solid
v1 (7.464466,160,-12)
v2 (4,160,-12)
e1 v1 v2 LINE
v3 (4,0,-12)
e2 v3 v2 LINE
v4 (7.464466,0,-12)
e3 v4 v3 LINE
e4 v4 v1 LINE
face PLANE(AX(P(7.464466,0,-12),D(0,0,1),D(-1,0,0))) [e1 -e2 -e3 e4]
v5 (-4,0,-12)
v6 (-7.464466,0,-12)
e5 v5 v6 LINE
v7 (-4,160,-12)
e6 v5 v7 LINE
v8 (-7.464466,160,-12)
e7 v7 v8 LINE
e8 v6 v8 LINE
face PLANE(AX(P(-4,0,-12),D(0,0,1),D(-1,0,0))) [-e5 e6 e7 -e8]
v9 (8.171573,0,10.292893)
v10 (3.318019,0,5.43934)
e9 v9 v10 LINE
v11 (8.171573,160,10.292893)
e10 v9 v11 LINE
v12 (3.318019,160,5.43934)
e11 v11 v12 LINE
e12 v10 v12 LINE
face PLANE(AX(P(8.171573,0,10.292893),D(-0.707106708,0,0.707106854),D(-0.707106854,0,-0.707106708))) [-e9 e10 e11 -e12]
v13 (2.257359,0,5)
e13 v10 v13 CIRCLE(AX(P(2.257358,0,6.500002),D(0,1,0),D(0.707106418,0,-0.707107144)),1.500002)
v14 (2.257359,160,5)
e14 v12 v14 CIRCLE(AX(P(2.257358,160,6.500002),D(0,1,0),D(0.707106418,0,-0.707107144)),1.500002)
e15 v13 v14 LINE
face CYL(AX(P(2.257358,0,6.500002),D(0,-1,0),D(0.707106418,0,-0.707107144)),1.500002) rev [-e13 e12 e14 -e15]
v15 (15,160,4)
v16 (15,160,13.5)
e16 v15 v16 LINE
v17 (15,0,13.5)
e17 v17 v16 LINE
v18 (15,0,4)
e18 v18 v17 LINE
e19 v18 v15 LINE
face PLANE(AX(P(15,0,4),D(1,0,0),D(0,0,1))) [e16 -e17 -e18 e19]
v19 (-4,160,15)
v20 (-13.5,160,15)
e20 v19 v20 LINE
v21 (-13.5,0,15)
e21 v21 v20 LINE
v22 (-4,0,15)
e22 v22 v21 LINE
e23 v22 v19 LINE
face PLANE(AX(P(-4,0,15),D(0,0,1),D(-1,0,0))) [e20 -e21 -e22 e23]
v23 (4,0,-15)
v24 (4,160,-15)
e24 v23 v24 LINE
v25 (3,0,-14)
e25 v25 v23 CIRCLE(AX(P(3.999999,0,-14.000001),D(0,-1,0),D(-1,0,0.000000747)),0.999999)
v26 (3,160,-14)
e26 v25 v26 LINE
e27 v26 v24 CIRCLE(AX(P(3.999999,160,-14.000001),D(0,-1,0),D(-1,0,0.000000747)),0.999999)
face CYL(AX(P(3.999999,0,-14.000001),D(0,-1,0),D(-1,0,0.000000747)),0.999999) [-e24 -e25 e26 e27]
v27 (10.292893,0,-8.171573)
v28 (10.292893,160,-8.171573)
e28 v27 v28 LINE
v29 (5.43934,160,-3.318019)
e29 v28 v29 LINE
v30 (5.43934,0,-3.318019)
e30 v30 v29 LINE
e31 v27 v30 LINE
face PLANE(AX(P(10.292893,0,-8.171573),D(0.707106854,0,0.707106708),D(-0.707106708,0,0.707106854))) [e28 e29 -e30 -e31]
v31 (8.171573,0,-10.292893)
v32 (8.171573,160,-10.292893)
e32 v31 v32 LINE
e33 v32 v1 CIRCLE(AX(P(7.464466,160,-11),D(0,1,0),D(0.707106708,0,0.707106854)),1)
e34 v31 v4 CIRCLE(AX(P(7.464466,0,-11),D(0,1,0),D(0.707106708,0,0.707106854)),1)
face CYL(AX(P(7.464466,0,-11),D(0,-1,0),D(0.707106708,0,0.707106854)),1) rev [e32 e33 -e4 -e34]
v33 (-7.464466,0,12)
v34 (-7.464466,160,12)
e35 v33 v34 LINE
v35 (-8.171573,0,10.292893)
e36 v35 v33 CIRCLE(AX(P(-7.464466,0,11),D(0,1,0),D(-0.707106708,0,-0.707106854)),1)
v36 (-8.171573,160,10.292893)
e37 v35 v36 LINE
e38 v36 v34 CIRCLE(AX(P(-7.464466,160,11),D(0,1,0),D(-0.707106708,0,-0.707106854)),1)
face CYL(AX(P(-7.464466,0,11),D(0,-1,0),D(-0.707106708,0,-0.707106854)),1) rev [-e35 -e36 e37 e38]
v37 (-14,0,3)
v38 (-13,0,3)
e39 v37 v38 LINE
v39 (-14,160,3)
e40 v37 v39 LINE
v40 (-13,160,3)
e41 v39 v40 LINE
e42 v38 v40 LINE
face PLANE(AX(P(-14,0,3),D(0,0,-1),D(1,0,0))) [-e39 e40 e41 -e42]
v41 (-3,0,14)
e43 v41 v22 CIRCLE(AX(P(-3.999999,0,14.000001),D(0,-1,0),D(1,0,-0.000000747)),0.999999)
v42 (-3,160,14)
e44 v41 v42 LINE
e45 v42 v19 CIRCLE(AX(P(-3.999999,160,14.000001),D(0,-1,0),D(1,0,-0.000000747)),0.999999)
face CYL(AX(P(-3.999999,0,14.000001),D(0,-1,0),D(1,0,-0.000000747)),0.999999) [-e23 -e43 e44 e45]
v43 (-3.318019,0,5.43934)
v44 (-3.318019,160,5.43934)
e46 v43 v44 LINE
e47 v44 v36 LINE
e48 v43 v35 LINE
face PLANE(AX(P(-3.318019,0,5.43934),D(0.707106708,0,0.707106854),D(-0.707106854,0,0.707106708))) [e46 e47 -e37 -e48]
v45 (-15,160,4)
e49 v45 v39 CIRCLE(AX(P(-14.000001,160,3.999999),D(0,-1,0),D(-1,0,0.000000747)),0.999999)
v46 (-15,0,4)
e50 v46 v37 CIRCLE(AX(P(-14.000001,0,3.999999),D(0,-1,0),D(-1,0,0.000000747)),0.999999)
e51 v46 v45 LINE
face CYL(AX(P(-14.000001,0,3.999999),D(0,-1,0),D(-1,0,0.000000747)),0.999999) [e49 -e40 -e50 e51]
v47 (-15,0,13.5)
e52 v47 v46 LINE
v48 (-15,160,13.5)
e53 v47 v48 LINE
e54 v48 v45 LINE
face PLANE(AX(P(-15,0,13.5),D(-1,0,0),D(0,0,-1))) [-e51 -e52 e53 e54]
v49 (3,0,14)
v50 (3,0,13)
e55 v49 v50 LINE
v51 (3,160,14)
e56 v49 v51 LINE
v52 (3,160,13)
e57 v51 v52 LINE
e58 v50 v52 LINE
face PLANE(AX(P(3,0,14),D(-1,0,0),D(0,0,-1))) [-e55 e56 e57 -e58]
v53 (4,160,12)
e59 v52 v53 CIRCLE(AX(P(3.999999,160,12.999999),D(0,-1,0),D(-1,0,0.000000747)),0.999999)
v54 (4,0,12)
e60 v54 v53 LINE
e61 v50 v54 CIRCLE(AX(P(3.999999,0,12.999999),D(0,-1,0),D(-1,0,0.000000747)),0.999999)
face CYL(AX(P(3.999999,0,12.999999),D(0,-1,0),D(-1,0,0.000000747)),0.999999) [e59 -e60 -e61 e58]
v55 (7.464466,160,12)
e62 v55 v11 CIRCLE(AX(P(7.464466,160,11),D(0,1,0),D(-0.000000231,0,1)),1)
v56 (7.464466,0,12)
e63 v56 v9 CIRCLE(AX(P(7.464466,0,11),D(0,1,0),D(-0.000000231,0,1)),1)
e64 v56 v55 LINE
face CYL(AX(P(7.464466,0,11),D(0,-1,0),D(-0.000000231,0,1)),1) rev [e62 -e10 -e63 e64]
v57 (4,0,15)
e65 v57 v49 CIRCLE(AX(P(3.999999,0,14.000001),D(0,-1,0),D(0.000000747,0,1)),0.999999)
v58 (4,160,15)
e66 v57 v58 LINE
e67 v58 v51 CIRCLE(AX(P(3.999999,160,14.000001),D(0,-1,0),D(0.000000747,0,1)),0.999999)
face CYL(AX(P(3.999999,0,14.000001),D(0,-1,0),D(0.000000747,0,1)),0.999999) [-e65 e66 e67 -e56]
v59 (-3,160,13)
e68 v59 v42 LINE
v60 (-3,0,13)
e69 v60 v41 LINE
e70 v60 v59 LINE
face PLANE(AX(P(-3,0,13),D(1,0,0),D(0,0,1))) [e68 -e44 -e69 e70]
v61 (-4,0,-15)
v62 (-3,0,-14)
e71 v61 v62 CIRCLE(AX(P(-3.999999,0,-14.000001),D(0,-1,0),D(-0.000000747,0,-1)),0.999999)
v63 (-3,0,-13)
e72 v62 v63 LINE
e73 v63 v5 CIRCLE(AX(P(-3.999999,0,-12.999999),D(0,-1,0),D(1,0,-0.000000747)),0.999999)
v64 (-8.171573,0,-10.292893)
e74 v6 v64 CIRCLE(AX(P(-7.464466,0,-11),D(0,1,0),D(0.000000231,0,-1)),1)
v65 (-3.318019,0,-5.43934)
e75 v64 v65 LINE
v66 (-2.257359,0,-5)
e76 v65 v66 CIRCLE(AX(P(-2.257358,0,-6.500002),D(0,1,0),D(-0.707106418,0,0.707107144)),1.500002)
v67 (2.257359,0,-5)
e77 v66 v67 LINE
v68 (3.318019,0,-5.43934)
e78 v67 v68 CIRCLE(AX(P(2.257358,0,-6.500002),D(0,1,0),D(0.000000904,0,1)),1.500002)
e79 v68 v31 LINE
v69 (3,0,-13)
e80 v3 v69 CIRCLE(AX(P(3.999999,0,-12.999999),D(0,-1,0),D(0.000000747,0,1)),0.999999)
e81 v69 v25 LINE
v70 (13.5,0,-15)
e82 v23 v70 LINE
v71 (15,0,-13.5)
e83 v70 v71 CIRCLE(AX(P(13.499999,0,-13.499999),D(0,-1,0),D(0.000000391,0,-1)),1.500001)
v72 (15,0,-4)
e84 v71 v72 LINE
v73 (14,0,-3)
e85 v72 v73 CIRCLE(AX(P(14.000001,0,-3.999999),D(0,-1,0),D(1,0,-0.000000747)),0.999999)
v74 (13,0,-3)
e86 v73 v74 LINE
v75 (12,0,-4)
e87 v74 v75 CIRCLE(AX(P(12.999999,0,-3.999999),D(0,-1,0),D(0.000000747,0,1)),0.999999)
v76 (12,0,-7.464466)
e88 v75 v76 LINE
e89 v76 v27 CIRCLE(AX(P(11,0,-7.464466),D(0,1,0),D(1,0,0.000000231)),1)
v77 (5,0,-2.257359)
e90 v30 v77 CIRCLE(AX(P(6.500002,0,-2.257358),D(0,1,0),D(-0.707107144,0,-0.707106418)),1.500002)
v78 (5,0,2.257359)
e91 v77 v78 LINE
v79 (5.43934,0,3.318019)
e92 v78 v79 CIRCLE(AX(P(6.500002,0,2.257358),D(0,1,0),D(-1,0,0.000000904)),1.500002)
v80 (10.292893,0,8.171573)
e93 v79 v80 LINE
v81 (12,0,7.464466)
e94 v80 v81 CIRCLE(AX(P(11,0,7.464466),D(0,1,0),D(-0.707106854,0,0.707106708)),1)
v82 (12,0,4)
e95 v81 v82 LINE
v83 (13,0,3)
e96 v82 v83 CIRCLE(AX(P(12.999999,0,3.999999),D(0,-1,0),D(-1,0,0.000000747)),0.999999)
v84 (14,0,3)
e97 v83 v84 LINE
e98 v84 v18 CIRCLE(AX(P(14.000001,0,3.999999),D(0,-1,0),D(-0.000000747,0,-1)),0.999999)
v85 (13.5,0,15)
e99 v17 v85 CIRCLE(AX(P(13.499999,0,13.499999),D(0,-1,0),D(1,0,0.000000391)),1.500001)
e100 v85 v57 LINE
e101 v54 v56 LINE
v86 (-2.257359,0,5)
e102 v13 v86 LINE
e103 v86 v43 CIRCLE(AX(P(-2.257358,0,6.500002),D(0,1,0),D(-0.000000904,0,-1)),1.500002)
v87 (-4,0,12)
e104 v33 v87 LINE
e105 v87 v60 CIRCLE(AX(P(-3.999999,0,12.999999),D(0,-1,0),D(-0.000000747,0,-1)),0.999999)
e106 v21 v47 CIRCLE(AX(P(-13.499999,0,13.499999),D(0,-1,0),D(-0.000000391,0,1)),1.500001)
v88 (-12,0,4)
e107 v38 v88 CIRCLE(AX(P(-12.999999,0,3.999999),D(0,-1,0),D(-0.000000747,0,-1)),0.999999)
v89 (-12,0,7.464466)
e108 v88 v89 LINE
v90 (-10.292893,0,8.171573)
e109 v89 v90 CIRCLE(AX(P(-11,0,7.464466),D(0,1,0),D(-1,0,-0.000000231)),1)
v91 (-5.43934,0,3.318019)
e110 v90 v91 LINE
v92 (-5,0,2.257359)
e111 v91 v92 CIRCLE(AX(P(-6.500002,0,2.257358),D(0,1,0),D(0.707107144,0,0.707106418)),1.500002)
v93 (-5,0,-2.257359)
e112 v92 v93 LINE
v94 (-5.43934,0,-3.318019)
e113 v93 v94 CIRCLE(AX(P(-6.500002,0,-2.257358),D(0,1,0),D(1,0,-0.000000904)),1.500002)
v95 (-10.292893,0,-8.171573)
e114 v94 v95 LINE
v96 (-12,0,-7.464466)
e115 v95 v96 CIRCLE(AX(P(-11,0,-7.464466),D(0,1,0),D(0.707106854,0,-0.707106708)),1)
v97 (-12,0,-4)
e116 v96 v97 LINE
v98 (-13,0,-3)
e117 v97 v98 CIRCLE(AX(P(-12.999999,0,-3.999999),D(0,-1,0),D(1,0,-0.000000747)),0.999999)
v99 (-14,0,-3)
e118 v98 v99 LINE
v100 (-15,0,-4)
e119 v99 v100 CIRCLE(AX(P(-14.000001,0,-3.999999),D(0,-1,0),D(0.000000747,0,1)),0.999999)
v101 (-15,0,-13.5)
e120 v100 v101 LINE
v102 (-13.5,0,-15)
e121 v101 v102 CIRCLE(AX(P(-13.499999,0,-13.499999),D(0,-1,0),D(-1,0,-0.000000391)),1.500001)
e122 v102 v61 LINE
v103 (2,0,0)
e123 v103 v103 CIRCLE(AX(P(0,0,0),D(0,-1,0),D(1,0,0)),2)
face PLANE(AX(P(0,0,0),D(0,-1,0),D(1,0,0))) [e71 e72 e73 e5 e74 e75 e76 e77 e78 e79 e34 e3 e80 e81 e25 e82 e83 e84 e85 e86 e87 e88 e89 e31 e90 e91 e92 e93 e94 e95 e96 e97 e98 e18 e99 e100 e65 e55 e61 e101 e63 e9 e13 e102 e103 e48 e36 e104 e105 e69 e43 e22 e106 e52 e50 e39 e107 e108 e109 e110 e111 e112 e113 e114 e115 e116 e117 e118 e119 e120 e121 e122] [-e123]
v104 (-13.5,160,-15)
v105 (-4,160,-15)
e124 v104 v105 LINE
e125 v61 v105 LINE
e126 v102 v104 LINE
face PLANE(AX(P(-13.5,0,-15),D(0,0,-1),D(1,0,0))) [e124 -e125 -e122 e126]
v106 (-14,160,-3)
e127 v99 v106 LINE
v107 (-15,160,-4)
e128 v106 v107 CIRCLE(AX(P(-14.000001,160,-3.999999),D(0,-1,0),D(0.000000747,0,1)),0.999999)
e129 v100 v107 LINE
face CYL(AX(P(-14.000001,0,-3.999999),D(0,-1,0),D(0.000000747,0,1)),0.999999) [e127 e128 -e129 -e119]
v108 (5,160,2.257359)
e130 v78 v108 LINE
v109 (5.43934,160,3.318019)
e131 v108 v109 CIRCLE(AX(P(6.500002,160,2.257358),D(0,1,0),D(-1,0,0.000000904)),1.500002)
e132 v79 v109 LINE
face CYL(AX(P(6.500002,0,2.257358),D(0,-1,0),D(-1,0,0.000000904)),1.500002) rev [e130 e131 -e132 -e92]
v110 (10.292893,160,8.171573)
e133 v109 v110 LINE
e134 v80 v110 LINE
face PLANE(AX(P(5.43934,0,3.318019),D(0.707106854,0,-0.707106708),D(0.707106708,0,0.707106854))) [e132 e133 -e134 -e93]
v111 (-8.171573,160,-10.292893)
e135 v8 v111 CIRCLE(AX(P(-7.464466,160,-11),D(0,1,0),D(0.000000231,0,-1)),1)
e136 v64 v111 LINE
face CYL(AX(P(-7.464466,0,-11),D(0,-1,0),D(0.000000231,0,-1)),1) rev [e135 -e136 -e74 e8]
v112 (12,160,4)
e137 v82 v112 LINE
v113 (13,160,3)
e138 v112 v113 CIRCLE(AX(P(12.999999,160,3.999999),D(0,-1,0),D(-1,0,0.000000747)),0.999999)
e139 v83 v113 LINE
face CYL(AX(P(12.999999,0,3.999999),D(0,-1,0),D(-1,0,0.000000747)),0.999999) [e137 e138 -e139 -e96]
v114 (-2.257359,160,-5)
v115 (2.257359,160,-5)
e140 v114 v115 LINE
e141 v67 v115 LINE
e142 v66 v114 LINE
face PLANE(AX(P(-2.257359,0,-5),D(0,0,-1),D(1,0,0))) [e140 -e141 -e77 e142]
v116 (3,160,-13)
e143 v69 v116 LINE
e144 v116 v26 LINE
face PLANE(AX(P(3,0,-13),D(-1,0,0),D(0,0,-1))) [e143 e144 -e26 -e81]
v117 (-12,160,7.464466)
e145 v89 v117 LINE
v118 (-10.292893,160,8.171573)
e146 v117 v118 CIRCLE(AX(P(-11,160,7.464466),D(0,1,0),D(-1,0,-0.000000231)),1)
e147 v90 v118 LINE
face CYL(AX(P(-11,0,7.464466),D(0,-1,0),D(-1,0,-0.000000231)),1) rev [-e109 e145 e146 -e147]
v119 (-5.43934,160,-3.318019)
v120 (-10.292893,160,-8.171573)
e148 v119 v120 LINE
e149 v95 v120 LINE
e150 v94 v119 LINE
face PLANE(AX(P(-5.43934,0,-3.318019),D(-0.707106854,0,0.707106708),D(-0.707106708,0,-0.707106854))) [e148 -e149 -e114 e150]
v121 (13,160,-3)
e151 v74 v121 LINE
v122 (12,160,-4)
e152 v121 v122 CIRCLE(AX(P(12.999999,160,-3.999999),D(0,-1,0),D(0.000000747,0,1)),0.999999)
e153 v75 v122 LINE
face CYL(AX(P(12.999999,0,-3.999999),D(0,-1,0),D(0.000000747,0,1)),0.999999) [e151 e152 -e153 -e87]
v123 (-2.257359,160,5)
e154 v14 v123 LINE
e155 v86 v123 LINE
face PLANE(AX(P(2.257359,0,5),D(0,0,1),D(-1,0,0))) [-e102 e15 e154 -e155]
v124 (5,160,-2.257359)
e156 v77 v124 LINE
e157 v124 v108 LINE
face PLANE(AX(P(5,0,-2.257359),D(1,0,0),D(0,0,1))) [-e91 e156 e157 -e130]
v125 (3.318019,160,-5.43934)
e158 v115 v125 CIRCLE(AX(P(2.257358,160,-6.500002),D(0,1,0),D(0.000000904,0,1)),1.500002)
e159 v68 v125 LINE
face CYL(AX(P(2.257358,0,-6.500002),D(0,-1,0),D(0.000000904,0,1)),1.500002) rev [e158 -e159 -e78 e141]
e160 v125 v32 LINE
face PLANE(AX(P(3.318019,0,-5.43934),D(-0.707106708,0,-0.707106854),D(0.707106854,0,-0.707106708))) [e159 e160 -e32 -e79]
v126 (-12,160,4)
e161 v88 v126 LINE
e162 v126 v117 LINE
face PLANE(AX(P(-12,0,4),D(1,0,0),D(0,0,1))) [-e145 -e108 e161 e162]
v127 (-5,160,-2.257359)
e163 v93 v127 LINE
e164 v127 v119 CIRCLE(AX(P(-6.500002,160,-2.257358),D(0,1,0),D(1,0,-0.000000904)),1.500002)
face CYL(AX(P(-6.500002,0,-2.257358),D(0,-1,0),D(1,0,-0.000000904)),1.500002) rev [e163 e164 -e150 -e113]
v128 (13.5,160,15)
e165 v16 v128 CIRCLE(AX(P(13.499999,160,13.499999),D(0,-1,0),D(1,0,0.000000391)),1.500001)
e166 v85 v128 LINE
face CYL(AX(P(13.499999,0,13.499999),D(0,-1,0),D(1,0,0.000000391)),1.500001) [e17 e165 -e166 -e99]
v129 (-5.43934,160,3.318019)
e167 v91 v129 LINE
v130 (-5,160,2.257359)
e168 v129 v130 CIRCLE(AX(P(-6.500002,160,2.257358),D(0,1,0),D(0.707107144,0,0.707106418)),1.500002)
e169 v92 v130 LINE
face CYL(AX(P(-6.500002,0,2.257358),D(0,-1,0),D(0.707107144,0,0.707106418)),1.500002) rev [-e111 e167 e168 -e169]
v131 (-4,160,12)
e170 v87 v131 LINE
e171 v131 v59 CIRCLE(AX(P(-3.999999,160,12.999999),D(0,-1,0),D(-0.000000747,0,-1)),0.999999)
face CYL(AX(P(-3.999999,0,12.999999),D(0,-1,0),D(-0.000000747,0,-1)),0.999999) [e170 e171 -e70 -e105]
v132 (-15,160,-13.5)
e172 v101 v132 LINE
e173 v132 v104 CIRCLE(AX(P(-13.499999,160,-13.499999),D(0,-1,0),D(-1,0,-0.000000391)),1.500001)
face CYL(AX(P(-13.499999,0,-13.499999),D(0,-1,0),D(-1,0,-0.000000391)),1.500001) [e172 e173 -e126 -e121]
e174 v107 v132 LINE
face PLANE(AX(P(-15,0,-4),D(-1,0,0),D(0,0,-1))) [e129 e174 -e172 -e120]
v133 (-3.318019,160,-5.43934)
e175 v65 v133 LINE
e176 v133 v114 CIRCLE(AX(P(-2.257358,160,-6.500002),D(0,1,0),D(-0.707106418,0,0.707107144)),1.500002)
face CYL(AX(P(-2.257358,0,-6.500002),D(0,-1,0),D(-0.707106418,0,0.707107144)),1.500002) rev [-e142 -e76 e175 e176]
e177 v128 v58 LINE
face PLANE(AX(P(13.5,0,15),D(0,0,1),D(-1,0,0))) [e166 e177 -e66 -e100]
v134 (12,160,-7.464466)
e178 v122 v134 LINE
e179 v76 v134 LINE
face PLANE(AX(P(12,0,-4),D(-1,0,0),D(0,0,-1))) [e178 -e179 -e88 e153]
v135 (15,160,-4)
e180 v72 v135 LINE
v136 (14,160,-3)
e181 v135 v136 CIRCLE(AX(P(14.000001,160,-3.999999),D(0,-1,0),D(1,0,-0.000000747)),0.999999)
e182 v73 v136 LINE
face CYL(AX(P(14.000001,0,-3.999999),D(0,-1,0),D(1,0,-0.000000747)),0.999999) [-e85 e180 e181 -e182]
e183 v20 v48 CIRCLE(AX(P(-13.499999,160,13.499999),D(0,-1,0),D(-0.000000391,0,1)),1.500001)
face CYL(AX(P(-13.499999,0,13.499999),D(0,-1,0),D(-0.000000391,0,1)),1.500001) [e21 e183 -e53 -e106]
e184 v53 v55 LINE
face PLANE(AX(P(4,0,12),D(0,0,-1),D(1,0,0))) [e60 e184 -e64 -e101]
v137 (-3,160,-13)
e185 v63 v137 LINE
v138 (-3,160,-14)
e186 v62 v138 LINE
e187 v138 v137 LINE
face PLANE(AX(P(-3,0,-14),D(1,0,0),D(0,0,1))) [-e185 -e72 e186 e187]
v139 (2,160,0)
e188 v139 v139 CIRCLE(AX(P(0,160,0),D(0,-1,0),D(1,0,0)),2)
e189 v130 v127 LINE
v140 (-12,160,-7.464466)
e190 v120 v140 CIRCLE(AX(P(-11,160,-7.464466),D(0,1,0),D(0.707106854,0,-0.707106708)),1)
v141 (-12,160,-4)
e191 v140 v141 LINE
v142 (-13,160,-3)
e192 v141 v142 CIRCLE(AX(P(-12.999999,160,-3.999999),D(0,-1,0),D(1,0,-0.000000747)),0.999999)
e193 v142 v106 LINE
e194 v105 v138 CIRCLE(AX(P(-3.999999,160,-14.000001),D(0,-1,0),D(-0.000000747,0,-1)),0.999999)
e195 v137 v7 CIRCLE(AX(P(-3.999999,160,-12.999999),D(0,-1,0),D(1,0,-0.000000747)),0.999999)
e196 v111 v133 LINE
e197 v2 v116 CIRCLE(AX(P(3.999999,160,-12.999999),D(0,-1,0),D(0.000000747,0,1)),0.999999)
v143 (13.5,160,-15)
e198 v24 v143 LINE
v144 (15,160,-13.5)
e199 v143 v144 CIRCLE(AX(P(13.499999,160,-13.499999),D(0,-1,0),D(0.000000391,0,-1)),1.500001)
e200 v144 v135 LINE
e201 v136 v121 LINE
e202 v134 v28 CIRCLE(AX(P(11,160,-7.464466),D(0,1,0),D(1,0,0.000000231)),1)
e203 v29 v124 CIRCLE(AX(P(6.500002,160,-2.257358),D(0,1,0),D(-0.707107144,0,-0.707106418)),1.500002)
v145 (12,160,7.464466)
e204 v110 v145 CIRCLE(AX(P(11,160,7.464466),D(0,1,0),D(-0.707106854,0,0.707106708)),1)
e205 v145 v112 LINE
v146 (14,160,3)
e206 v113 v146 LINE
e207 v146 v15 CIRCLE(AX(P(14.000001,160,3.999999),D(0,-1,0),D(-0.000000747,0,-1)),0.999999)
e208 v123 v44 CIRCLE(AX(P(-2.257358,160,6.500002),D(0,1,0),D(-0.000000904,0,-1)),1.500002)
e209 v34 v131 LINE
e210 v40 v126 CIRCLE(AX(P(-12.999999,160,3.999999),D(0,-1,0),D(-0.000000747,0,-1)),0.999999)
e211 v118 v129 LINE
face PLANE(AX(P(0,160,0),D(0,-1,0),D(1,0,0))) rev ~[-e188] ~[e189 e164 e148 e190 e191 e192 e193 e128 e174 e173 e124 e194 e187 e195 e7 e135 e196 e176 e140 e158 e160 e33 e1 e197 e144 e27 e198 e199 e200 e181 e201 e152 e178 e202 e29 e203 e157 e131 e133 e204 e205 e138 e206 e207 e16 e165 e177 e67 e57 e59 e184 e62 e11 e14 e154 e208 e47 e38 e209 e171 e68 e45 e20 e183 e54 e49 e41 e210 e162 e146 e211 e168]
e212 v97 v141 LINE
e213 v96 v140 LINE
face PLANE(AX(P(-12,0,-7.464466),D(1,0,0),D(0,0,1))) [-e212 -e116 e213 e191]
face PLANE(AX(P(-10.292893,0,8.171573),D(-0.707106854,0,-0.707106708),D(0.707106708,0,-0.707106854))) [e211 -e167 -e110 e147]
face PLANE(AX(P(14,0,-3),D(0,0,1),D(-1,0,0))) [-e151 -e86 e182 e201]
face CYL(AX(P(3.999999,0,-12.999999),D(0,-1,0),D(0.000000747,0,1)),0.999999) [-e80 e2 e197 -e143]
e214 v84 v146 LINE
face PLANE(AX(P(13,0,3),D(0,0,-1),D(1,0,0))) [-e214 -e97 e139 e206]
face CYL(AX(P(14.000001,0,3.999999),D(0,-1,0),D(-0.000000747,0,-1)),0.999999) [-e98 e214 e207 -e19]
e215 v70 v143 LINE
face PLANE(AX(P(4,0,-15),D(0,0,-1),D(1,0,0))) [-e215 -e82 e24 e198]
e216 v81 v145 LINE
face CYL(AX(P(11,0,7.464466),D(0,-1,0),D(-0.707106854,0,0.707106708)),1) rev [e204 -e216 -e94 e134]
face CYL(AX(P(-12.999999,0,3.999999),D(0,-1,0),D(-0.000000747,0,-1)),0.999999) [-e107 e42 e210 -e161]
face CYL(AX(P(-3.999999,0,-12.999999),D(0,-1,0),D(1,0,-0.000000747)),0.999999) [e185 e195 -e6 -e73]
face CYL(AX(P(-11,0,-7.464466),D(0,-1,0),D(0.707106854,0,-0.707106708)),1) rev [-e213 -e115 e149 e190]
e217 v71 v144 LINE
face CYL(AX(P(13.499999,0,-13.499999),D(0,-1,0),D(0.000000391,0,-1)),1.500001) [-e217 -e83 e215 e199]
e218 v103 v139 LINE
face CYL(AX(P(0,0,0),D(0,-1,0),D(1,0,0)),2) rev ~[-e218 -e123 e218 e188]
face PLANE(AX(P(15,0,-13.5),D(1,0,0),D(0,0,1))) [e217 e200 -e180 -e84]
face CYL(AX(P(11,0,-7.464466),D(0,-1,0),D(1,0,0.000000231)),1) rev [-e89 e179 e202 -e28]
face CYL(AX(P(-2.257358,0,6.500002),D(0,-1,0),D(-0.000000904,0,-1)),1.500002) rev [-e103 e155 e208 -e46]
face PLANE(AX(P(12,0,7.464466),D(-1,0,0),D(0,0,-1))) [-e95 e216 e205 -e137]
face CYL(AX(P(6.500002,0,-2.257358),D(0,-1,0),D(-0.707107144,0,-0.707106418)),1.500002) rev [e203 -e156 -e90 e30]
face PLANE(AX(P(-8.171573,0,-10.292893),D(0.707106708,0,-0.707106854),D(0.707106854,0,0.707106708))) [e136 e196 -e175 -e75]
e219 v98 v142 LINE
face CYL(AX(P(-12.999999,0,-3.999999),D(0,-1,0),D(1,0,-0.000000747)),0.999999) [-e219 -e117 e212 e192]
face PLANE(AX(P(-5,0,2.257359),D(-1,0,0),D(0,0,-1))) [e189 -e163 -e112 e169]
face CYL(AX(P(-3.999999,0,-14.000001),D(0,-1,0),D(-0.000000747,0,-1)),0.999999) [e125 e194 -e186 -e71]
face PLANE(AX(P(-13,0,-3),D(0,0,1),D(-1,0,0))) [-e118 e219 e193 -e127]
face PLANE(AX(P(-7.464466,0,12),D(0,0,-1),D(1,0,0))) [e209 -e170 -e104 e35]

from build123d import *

# Parameters (mm, degrees)
F0_R     = 2
F1_DEPTH = 160


with BuildPart() as f1:
    # F0 (on Front) → F1 (new body)
    with BuildSketch(Plane.XZ):
        with BuildLine():
            ThreePointArc((15, 13.5), (14.56066, 14.56066), (13.5, 15))
            Line((13.5, 15), (4, 15))
            ThreePointArc((4, 15), (3.292893, 14.707107), (3, 14))
            Line((3, 14), (3, 13))
            ThreePointArc((3, 13), (3.292893, 12.292893), (4, 12))
            Line((4, 12), (7.464466, 12))
            ThreePointArc((7.464466, 12), (8.388346, 11.382683), (8.171573, 10.292893))
            Line((8.171573, 10.292893), (3.318019, 5.43934))
            ThreePointArc((3.318019, 5.43934), (2.831384, 5.114181), (2.257359, 5))
            Line((2.257359, 5), (-2.257359, 5))
            ThreePointArc((-2.257359, 5), (-2.831384, 5.114181), (-3.318019, 5.43934))
            Line((-3.318019, 5.43934), (-8.171573, 10.292893))
            ThreePointArc((-8.171573, 10.292893), (-8.388346, 11.382683), (-7.464466, 12))
            Line((-7.464466, 12), (-4, 12))
            ThreePointArc((-4, 12), (-3.292893, 12.292893), (-3, 13))
            Line((-3, 13), (-3, 14))
            ThreePointArc((-3, 14), (-3.292893, 14.707107), (-4, 15))
            Line((-4, 15), (-13.5, 15))
            ThreePointArc((-13.5, 15), (-14.56066, 14.56066), (-15, 13.5))
            Line((-15, 13.5), (-15, 4))
            ThreePointArc((-15, 4), (-14.707107, 3.292893), (-14, 3))
            Line((-14, 3), (-13, 3))
            ThreePointArc((-13, 3), (-12.292893, 3.292893), (-12, 4))
            Line((-12, 4), (-12, 7.464466))
            ThreePointArc((-12, 7.464466), (-11.382683, 8.388346), (-10.292893, 8.171573))
            Line((-10.292893, 8.171573), (-5.43934, 3.318019))
            ThreePointArc((-5.43934, 3.318019), (-5.114181, 2.831384), (-5, 2.257359))
            Line((-5, 2.257359), (-5, -2.257359))
            ThreePointArc((-5, -2.257359), (-5.114181, -2.831384), (-5.43934, -3.318019))
            Line((-5.43934, -3.318019), (-10.292893, -8.171573))
            ThreePointArc((-10.292893, -8.171573), (-11.382683, -8.388346), (-12, -7.464466))
            Line((-12, -7.464466), (-12, -4))
            ThreePointArc((-12, -4), (-12.292893, -3.292893), (-13, -3))
            Line((-13, -3), (-14, -3))
            ThreePointArc((-14, -3), (-14.707107, -3.292893), (-15, -4))
            Line((-15, -4), (-15, -13.5))
            ThreePointArc((-15, -13.5), (-14.56066, -14.56066), (-13.5, -15))
            Line((-13.5, -15), (-4, -15))
            ThreePointArc((-4, -15), (-3.292893, -14.707107), (-3, -14))
            Line((-3, -14), (-3, -13))
            ThreePointArc((-3, -13), (-3.292893, -12.292893), (-4, -12))
            Line((-4, -12), (-7.464466, -12))
            ThreePointArc((-7.464466, -12), (-8.388346, -11.382683), (-8.171573, -10.292893))
            Line((-8.171573, -10.292893), (-3.318019, -5.43934))
            ThreePointArc((-3.318019, -5.43934), (-2.831384, -5.114181), (-2.257359, -5))
            Line((-2.257359, -5), (2.257359, -5))
            ThreePointArc((2.257359, -5), (2.831384, -5.114181), (3.318019, -5.43934))
            Line((3.318019, -5.43934), (8.171573, -10.292893))
            ThreePointArc((8.171573, -10.292893), (8.388346, -11.382683), (7.464466, -12))
            Line((7.464466, -12), (4, -12))
            ThreePointArc((4, -12), (3.292893, -12.292893), (3, -13))
            Line((3, -13), (3, -14))
            ThreePointArc((3, -14), (3.292893, -14.707107), (4, -15))
            Line((4, -15), (13.5, -15))
            ThreePointArc((13.5, -15), (14.56066, -14.56066), (15, -13.5))
            Line((15, -13.5), (15, -4))
            ThreePointArc((15, -4), (14.707107, -3.292893), (14, -3))
            Line((14, -3), (13, -3))
            ThreePointArc((13, -3), (12.292893, -3.292893), (12, -4))
            Line((12, -4), (12, -7.464466))
            ThreePointArc((12, -7.464466), (11.382683, -8.388346), (10.292893, -8.171573))
            Line((10.292893, -8.171573), (5.43934, -3.318019))
            ThreePointArc((5.43934, -3.318019), (5.114181, -2.831384), (5, -2.257359))
            Line((5, -2.257359), (5, 2.257359))
            ThreePointArc((5, 2.257359), (5.114181, 2.831384), (5.43934, 3.318019))
            Line((5.43934, 3.318019), (10.292893, 8.171573))
            ThreePointArc((10.292893, 8.171573), (11.382683, 8.388346), (12, 7.464466))
            Line((12, 7.464466), (12, 4))
            ThreePointArc((12, 4), (12.292893, 3.292893), (13, 3))
            Line((13, 3), (14, 3))
            ThreePointArc((14, 3), (14.707107, 3.292893), (15, 4))
            Line((15, 4), (15, 13.5))
        make_face()
        Circle(F0_R, mode=Mode.SUBTRACT)
    extrude(amount=-F1_DEPTH)


solid = f1.part
